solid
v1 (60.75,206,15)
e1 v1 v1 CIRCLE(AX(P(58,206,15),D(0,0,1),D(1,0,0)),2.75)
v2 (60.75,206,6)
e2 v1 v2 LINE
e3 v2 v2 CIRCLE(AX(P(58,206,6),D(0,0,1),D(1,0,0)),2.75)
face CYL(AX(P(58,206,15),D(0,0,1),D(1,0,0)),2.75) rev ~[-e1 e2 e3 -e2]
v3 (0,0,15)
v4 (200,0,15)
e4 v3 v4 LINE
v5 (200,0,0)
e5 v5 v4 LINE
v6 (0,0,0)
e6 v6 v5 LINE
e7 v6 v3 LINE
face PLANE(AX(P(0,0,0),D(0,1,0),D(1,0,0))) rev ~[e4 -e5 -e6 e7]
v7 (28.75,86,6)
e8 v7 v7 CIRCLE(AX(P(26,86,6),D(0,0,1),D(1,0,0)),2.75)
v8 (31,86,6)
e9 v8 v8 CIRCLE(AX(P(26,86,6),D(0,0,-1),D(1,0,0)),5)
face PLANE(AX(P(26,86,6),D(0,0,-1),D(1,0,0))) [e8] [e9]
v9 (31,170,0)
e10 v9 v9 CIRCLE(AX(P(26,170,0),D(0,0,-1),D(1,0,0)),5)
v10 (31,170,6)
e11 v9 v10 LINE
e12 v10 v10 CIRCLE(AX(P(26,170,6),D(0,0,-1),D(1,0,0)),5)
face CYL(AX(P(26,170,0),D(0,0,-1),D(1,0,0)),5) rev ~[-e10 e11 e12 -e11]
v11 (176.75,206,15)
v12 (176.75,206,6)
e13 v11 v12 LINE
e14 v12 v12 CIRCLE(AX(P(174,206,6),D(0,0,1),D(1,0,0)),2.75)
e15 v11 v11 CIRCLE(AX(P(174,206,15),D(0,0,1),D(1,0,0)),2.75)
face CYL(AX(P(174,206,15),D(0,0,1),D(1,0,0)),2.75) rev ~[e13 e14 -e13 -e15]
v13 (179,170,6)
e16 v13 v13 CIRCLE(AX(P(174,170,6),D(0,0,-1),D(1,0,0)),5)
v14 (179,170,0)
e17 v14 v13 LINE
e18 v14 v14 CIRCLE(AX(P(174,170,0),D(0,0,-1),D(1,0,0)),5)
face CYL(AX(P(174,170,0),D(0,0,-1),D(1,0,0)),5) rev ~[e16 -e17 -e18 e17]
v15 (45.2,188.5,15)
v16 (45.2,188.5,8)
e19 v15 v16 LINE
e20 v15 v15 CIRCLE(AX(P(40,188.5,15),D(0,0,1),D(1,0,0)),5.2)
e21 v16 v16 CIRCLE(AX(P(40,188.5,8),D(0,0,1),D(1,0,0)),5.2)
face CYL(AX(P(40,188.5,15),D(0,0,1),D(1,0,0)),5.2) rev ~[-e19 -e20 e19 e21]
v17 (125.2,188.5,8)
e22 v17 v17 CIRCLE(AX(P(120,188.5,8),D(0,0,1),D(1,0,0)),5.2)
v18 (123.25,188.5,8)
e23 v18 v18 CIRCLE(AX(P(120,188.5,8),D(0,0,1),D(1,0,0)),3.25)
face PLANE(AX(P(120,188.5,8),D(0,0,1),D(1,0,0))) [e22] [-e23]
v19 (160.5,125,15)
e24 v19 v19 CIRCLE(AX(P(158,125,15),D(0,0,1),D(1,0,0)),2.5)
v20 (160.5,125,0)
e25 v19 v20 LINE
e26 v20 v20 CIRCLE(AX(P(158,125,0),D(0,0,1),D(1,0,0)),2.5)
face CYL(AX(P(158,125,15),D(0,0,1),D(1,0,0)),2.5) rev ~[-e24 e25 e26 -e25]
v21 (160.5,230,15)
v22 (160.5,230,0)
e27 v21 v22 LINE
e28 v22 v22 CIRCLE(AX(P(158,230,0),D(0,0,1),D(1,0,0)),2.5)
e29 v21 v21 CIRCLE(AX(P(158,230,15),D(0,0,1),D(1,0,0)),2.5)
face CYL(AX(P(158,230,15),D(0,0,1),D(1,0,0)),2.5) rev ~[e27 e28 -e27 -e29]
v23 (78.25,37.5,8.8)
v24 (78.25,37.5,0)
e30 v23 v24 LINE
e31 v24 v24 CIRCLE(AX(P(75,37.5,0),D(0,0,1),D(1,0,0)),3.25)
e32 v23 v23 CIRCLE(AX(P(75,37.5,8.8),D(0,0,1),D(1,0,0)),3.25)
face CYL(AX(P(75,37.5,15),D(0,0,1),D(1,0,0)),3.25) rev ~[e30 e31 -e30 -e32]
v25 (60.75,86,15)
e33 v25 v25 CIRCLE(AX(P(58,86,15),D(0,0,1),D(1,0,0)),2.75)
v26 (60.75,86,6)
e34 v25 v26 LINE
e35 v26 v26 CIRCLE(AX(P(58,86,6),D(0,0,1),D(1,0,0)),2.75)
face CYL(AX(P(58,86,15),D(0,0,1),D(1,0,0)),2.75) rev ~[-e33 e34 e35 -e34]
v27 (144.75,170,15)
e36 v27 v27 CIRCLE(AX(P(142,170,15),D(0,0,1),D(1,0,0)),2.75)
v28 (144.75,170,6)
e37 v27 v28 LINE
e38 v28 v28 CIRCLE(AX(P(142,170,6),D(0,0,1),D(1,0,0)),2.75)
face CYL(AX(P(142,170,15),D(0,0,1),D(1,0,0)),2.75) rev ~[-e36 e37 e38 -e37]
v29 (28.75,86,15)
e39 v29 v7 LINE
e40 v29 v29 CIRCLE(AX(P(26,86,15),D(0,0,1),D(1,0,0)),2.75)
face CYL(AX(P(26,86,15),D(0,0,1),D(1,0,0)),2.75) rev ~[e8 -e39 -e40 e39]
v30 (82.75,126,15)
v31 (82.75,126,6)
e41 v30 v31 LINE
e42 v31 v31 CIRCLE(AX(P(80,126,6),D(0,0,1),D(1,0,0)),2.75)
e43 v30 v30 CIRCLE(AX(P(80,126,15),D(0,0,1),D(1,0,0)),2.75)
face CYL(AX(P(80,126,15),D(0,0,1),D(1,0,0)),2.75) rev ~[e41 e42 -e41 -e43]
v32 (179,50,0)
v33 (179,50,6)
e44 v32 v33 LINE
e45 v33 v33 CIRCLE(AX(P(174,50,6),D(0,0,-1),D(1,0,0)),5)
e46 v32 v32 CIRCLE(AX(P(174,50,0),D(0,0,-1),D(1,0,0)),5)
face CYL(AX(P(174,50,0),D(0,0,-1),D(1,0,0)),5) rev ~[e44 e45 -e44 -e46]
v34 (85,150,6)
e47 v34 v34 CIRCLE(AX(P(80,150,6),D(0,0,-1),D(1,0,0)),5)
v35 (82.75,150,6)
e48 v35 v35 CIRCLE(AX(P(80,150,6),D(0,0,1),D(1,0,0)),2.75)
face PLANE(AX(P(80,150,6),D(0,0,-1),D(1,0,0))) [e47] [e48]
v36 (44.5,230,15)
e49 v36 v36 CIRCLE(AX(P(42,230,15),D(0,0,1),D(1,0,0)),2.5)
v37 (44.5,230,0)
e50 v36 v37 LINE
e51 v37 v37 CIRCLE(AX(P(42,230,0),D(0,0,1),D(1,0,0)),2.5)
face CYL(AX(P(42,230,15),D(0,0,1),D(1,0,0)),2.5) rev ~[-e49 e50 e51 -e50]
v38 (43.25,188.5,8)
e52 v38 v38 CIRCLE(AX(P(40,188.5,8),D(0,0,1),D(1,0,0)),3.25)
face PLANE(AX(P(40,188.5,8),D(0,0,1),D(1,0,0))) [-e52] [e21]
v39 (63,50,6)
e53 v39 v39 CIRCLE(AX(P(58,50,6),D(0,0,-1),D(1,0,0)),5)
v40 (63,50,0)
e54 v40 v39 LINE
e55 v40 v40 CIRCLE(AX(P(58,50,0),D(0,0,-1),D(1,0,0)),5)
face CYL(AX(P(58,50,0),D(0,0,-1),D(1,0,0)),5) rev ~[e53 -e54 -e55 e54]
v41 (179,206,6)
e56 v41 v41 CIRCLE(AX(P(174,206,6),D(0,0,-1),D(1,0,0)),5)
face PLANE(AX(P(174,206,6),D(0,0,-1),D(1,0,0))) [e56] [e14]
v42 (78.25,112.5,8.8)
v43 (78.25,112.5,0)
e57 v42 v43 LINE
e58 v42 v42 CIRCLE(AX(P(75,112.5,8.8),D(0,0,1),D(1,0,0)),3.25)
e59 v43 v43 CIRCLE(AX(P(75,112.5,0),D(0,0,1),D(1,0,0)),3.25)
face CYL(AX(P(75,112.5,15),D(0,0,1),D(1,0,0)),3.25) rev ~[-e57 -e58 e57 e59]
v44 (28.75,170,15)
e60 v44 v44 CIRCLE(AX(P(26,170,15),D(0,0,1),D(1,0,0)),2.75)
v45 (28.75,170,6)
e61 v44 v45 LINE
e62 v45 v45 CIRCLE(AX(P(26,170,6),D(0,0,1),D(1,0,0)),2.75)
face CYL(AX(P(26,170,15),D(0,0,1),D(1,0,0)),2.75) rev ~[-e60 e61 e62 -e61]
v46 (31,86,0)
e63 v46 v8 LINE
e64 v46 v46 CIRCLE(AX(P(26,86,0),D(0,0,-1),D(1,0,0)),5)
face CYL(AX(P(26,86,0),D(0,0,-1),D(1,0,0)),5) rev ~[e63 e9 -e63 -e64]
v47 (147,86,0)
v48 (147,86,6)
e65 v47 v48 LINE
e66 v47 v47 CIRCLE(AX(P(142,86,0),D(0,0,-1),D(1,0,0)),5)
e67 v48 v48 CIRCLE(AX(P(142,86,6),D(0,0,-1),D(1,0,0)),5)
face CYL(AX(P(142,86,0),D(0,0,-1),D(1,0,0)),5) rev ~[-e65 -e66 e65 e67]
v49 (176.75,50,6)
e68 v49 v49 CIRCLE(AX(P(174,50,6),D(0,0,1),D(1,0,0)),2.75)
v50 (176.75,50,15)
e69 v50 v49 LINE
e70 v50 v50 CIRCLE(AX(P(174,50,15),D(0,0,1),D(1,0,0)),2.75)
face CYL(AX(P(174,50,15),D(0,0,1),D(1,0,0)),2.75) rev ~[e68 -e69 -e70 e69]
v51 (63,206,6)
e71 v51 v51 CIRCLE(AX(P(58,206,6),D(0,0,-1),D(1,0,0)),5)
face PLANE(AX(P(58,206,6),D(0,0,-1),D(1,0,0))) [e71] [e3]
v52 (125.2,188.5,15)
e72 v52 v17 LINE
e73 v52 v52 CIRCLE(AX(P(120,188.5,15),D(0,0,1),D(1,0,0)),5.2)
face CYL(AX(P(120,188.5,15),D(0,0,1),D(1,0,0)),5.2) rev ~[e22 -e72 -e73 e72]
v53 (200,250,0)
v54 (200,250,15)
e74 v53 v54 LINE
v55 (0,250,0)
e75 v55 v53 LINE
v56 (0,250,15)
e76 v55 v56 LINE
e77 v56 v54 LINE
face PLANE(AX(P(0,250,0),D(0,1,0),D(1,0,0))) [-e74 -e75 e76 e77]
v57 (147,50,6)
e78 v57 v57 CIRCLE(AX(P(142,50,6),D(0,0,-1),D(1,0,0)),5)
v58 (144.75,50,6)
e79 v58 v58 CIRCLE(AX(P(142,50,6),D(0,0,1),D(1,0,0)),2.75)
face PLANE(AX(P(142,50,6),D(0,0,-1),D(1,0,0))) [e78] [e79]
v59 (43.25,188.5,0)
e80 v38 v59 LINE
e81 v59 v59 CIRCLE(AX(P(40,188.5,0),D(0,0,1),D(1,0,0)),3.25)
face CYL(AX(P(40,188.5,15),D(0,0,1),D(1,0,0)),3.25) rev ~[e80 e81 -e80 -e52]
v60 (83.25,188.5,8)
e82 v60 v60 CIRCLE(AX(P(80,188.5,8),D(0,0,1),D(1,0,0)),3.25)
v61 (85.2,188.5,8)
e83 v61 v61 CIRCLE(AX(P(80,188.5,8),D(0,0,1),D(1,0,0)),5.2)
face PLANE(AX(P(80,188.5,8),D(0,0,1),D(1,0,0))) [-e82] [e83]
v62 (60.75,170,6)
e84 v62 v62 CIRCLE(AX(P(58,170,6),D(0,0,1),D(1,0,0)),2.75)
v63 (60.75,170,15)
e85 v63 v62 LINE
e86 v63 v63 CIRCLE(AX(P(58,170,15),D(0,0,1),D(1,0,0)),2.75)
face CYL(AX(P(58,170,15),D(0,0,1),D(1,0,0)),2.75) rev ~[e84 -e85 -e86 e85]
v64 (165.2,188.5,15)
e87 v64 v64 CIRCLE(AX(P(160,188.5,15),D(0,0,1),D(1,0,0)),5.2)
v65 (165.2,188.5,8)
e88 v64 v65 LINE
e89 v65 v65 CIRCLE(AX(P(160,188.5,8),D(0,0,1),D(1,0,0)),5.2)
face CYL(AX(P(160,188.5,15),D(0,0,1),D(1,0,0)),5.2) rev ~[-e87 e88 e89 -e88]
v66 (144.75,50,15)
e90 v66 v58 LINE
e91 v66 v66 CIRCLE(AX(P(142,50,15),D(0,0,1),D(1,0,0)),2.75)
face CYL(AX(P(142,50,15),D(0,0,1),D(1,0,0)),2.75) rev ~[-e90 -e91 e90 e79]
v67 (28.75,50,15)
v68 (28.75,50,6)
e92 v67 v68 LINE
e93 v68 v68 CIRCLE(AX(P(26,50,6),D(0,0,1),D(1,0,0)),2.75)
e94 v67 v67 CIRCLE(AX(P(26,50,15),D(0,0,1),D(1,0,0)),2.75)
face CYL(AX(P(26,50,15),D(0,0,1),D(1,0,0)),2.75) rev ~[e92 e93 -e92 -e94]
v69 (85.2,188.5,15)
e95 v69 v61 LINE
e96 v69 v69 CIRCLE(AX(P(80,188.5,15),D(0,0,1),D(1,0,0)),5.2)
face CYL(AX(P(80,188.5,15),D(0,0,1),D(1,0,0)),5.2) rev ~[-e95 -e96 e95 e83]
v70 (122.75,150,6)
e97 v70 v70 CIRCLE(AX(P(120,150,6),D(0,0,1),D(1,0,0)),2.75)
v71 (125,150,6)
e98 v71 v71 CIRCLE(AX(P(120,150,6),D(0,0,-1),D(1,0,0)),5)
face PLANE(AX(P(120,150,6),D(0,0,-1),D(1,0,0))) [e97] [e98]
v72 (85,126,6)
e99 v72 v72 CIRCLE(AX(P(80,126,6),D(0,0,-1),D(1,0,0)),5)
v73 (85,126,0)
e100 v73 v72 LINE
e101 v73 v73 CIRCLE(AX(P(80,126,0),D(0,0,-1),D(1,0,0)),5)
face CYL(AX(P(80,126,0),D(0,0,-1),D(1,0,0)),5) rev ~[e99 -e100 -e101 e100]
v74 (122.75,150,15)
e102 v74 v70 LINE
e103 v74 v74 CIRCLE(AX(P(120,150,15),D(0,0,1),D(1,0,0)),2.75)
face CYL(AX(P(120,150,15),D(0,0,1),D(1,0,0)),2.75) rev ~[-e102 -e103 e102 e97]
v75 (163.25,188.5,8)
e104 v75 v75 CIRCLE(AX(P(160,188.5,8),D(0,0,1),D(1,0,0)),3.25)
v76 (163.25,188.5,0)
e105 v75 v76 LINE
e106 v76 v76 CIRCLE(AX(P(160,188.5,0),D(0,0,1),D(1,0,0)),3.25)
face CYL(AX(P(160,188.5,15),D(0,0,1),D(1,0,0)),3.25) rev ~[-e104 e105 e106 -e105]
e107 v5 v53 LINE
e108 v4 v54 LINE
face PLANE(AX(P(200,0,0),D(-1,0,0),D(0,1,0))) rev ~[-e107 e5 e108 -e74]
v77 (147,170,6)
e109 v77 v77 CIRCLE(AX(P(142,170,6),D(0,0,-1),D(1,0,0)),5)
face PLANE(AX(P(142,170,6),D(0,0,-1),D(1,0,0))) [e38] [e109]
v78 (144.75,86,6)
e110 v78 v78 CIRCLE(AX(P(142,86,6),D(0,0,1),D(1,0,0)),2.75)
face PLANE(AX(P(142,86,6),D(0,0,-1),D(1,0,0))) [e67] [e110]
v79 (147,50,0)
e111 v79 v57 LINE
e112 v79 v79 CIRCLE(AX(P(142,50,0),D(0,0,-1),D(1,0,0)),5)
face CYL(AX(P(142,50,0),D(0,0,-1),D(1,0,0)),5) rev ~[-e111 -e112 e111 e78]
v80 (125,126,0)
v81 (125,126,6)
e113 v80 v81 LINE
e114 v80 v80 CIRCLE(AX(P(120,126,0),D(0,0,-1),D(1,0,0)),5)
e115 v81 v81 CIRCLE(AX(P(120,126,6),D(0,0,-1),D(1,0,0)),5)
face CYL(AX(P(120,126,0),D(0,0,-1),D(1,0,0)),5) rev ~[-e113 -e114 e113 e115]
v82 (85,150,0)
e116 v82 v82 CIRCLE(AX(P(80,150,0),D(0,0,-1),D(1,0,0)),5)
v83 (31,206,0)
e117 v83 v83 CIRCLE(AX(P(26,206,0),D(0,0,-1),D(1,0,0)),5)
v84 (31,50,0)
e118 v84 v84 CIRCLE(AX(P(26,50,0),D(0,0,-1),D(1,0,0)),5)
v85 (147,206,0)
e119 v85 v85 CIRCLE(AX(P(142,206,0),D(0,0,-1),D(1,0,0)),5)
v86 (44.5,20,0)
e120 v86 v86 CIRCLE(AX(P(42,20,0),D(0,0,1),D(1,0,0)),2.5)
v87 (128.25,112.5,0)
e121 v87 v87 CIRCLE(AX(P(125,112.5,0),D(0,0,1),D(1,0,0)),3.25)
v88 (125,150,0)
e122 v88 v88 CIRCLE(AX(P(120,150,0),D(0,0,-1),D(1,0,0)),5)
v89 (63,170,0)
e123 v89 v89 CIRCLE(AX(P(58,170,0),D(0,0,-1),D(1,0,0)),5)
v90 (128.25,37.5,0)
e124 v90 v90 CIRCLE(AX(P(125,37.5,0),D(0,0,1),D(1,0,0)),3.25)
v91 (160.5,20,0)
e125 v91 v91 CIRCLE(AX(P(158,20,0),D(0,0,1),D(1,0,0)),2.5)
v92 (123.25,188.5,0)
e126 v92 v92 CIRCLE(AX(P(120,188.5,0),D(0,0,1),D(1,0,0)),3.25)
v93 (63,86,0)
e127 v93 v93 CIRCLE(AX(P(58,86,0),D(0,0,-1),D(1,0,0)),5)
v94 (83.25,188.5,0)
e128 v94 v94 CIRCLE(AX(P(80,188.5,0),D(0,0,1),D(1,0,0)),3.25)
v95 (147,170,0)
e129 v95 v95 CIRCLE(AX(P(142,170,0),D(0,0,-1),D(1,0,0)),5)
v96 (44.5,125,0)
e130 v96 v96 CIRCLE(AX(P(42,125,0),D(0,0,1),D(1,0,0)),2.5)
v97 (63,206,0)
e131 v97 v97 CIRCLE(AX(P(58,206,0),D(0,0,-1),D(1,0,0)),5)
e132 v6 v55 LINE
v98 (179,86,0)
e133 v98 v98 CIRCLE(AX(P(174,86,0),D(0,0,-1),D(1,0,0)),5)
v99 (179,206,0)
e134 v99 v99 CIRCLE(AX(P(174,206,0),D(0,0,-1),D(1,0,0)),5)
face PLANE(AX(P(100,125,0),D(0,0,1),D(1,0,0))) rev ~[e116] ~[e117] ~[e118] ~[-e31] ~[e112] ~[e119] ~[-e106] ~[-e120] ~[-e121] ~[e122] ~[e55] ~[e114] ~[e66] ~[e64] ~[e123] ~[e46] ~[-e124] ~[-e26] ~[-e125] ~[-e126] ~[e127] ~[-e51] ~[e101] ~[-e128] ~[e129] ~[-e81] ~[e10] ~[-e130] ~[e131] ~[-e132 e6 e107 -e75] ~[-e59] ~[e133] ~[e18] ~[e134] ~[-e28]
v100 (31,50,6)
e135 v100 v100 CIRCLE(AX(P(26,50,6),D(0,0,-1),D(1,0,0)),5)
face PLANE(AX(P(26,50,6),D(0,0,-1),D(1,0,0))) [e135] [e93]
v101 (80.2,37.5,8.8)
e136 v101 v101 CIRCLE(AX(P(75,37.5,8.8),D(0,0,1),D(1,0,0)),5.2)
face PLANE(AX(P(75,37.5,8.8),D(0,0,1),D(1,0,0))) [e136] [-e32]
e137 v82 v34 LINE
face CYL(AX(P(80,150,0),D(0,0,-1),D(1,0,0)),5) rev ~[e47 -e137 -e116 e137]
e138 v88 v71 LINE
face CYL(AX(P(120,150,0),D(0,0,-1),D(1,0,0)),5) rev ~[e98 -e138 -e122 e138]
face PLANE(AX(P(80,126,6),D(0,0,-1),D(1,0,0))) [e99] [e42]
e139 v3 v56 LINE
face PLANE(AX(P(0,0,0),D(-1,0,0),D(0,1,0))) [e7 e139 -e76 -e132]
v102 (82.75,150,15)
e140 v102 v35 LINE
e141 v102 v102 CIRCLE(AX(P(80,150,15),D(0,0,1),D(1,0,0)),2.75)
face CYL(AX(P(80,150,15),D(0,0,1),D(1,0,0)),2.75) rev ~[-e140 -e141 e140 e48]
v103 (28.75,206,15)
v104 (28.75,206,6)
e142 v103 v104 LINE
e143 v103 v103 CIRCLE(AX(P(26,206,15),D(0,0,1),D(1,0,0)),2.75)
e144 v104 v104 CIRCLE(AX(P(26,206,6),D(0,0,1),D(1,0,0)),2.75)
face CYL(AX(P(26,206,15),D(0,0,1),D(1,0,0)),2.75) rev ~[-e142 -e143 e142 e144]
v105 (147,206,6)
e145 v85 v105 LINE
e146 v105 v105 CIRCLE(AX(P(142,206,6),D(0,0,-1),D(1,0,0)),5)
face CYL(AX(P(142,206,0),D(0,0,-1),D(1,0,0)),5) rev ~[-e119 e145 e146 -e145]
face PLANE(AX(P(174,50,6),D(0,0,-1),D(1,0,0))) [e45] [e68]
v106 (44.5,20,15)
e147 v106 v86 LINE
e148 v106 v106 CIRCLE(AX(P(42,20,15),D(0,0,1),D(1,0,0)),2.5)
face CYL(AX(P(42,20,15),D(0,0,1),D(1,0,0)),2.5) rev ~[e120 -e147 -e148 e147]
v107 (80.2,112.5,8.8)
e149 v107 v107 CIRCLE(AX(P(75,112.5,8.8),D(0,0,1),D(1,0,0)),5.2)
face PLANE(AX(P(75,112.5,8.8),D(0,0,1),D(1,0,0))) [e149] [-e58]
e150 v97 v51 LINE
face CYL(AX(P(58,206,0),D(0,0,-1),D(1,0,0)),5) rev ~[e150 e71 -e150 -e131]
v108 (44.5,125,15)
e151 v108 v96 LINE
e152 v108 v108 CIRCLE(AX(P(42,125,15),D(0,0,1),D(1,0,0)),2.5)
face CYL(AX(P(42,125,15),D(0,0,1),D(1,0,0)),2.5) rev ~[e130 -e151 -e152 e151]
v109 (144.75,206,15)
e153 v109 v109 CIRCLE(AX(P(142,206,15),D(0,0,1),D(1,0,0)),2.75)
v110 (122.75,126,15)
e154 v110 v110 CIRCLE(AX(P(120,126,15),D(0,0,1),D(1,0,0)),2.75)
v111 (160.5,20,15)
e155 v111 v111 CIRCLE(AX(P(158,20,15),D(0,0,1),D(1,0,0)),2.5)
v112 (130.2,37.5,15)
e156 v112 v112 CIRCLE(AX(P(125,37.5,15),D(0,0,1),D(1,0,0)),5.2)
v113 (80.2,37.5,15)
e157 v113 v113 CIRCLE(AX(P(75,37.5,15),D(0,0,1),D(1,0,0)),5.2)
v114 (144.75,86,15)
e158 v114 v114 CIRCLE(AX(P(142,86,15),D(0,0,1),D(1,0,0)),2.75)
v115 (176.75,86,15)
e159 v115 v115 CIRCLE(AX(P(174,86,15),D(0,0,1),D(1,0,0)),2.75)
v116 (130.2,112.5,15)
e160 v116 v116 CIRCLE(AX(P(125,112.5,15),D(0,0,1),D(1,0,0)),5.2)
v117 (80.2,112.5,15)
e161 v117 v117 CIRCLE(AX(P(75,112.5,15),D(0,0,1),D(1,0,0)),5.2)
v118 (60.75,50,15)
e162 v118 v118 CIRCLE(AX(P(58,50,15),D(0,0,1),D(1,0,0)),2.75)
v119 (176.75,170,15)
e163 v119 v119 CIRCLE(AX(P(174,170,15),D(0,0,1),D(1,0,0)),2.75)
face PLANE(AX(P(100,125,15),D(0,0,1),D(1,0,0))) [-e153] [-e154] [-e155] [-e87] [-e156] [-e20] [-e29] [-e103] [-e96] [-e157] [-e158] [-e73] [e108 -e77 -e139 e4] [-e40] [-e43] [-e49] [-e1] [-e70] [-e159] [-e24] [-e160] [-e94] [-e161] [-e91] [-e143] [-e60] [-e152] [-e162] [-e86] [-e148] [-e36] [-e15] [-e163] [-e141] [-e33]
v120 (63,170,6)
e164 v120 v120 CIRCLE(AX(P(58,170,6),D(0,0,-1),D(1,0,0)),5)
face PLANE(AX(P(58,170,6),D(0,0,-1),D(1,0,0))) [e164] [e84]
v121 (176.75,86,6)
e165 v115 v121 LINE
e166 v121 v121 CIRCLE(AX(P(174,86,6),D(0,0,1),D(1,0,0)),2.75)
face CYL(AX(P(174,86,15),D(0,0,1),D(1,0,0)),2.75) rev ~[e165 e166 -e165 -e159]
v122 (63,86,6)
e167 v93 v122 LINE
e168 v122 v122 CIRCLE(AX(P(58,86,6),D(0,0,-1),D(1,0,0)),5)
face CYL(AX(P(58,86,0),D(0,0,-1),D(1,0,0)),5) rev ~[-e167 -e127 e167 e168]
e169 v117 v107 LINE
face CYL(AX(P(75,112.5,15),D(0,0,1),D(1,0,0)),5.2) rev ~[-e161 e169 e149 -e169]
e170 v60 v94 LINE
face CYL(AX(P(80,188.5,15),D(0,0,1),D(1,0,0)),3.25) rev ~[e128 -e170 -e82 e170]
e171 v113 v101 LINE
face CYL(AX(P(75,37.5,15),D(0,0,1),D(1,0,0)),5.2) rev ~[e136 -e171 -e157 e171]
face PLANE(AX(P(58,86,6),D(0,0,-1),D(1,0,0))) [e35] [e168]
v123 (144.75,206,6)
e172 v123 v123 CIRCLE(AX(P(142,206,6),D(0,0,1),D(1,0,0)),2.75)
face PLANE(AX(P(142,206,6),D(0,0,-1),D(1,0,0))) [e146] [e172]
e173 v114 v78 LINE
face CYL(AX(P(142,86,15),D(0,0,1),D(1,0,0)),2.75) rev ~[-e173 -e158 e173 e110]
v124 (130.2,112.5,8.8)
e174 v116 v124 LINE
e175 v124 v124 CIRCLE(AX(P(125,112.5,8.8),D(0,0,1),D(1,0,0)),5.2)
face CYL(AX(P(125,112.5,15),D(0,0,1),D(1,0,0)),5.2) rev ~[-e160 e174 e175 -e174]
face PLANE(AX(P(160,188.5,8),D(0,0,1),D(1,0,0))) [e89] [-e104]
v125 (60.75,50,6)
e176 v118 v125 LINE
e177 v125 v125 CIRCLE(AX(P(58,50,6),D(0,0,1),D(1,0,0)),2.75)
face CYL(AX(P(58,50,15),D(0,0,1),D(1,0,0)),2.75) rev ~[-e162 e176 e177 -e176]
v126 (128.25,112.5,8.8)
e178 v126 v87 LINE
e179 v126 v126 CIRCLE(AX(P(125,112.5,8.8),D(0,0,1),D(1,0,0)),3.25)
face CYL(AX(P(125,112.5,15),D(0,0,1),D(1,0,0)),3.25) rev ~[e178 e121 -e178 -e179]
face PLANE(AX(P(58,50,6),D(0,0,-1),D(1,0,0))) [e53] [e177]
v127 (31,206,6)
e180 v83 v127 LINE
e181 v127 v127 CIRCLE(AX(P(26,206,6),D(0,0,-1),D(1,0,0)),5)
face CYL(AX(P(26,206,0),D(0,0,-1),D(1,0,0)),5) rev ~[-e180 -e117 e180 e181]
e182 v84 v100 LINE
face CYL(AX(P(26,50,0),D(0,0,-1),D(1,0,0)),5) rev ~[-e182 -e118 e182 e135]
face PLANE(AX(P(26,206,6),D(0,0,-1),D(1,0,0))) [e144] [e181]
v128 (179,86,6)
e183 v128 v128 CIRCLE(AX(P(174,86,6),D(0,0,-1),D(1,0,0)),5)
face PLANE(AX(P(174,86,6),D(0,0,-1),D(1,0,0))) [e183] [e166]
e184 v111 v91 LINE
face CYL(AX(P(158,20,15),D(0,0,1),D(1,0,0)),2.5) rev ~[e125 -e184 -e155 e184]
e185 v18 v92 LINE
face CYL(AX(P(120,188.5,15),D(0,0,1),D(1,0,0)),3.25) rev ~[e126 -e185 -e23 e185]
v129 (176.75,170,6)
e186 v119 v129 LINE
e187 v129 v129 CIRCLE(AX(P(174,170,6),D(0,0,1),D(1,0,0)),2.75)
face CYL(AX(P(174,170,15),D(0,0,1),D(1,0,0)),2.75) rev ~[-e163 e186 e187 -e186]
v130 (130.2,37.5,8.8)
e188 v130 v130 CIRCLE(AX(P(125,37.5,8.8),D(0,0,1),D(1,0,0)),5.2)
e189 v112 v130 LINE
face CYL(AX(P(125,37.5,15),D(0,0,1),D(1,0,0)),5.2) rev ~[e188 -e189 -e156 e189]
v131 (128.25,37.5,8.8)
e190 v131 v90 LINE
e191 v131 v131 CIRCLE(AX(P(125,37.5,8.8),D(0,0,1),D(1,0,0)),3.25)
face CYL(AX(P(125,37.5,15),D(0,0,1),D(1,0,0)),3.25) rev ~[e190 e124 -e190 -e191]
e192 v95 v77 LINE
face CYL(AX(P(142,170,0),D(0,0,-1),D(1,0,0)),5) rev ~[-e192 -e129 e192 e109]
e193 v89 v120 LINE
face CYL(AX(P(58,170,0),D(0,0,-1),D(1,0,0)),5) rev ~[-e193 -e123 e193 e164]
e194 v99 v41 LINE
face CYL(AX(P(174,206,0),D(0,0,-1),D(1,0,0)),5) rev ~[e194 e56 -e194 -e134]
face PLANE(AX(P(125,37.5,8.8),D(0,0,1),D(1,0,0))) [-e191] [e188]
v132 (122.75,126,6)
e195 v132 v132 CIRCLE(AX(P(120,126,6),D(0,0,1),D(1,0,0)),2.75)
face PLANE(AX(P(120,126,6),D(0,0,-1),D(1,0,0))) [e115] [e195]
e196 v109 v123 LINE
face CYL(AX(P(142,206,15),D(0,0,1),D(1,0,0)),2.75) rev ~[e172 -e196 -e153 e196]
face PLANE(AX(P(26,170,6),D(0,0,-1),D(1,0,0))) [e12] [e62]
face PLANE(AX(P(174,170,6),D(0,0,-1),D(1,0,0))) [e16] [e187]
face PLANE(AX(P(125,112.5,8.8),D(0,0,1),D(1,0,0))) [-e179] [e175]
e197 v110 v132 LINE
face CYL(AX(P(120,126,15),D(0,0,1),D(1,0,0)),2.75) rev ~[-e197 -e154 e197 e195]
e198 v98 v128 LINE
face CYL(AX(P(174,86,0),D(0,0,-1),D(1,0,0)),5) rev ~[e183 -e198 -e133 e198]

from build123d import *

# Parameters (mm, degrees)
SKETCH_W        = 200
SKETCH_H        = 250
PAD_DEPTH       = 15
SKETCH001_R     = 3.25
POCKET_DEPTH    = 15
SKETCH002_R     = 5.2
POCKET001_DEPTH = 6.2
SKETCH003_R     = 2.5
POCKET002_DEPTH = 15
SKETCH004_R     = 3.25
POCKET003_DEPTH = 15
SKETCH005_R     = 5.2
POCKET004_DEPTH = 7
SKETCH006_R     = 2.75
POCKET005_DEPTH = 15
SKETCH007_R     = 5
POCKET006_DEPTH = 6
SKETCH008_R     = 2.75
POCKET007_DEPTH = 15
SKETCH009_R     = 5
POCKET008_DEPTH = 6


with BuildPart() as part:
    # Sketch → Pad (new body)
    with BuildSketch(Plane.XY):
        with Locations((100, 125)):
            Rectangle(SKETCH_W, SKETCH_H)
    extrude(amount=PAD_DEPTH)

    # Sketch001 (on Face6 of Pad) → Pocket (cut)
    with BuildSketch(Plane.XY.offset(15)):
        with Locations((125, 37.5)):
            Circle(SKETCH001_R)
        with Locations((75, 37.5)):
            Circle(SKETCH001_R)
        with Locations((125, 112.5)):
            Circle(SKETCH001_R)
        with Locations((75, 112.5)):
            Circle(SKETCH001_R)
    extrude(amount=-POCKET_DEPTH, mode=Mode.SUBTRACT)

    # Sketch002 (on Face5 of Pocket) → Pocket001 (cut)
    with BuildSketch(Plane.XY.offset(15)):
        with Locations((75, 112.5)):
            Circle(SKETCH002_R)
        with Locations((125, 112.5)):
            Circle(SKETCH002_R)
        with Locations((75, 37.5)):
            Circle(SKETCH002_R)
        with Locations((125, 37.5)):
            Circle(SKETCH002_R)
    extrude(amount=-POCKET001_DEPTH, mode=Mode.SUBTRACT)

    # Sketch003 (on Face5 of Pocket001) → Pocket002 (cut)
    with BuildSketch(Plane.XY.offset(15)):
        with Locations((42, 230)):
            Circle(SKETCH003_R)
        with Locations((42, 125)):
            Circle(SKETCH003_R)
        with Locations((42, 20)):
            Circle(SKETCH003_R)
        with Locations((158, 230)):
            Circle(SKETCH003_R)
        with Locations((158, 125)):
            Circle(SKETCH003_R)
        with Locations((158, 20)):
            Circle(SKETCH003_R)
    extrude(amount=-POCKET002_DEPTH, mode=Mode.SUBTRACT)

    # Sketch004 (on Face5 of Pocket002) → Pocket003 (cut)
    with BuildSketch(Plane.XY.offset(15)):
        with Locations((40, 188.5)):
            Circle(SKETCH004_R)
        with Locations((80, 188.5)):
            Circle(SKETCH004_R)
        with Locations((120, 188.5)):
            Circle(SKETCH004_R)
        with Locations((160, 188.5)):
            Circle(SKETCH004_R)
    extrude(amount=-POCKET003_DEPTH, mode=Mode.SUBTRACT)

    # Sketch005 (on Face5 of Pocket003) → Pocket004 (cut)
    with BuildSketch(Plane.XY.offset(15)):
        with Locations((40, 188.5)):
            Circle(SKETCH005_R)
        with Locations((80, 188.5)):
            Circle(SKETCH005_R)
        with Locations((120, 188.5)):
            Circle(SKETCH005_R)
        with Locations((160, 188.5)):
            Circle(SKETCH005_R)
    extrude(amount=-POCKET004_DEPTH, mode=Mode.SUBTRACT)

    # Sketch006 (on Face5 of Pocket004) → Pocket005 (cut)
    with BuildSketch(Plane.XY.offset(15)):
        with Locations((26, 206)):
            Circle(SKETCH006_R)
        with Locations((58, 206)):
            Circle(SKETCH006_R)
        with Locations((26, 170)):
            Circle(SKETCH006_R)
        with Locations((58, 170)):
            Circle(SKETCH006_R)
        with Locations((26, 86)):
            Circle(SKETCH006_R)
        with Locations((58, 86)):
            Circle(SKETCH006_R)
        with Locations((26, 50)):
            Circle(SKETCH006_R)
        with Locations((58, 50)):
            Circle(SKETCH006_R)
        with Locations((142, 206)):
            Circle(SKETCH006_R)
        with Locations((174, 206)):
            Circle(SKETCH006_R)
        with Locations((142, 170)):
            Circle(SKETCH006_R)
        with Locations((174, 170)):
            Circle(SKETCH006_R)
        with Locations((142, 86)):
            Circle(SKETCH006_R)
        with Locations((174, 86)):
            Circle(SKETCH006_R)
        with Locations((142, 50)):
            Circle(SKETCH006_R)
        with Locations((174, 50)):
            Circle(SKETCH006_R)
    extrude(amount=-POCKET005_DEPTH, mode=Mode.SUBTRACT)

    # Sketch007 (on Face4 of Pocket005) → Pocket006 (cut)
    with BuildSketch(Plane(origin=(0, 0, 0), x_dir=(1, 0, 0), z_dir=(0, 0, -1))):
        with Locations((26, -50)):
            Circle(SKETCH007_R)
        with Locations((58, -50)):
            Circle(SKETCH007_R)
        with Locations((142, -50)):
            Circle(SKETCH007_R)
        with Locations((174, -50)):
            Circle(SKETCH007_R)
        with Locations((142, -86)):
            Circle(SKETCH007_R)
        with Locations((174, -86)):
            Circle(SKETCH007_R)
        with Locations((26, -86)):
            Circle(SKETCH007_R)
        with Locations((58, -86)):
            Circle(SKETCH007_R)
        with Locations((26, -170)):
            Circle(SKETCH007_R)
        with Locations((58, -170)):
            Circle(SKETCH007_R)
        with Locations((26, -206)):
            Circle(SKETCH007_R)
        with Locations((58, -206)):
            Circle(SKETCH007_R)
        with Locations((142, -170)):
            Circle(SKETCH007_R)
        with Locations((174, -170)):
            Circle(SKETCH007_R)
        with Locations((142, -206)):
            Circle(SKETCH007_R)
        with Locations((174, -206)):
            Circle(SKETCH007_R)
    extrude(amount=-POCKET006_DEPTH, mode=Mode.SUBTRACT)

    # Sketch008 (on Face5 of Pocket006) → Pocket007 (cut)
    with BuildSketch(Plane.XY.offset(15)):
        with Locations((80, 150)):
            Circle(SKETCH008_R)
        with Locations((120, 150)):
            Circle(SKETCH008_R)
        with Locations((80, 126)):
            Circle(SKETCH008_R)
        with Locations((120, 126)):
            Circle(SKETCH008_R)
    extrude(amount=-POCKET007_DEPTH, mode=Mode.SUBTRACT)

    # Sketch009 (on Face4 of Pocket007) → Pocket008 (cut)
    with BuildSketch(Plane(origin=(0, 0, 0), x_dir=(1, 0, 0), z_dir=(0, 0, -1))):
        with Locations((80, -126)):
            Circle(SKETCH009_R)
        with Locations((120, -126)):
            Circle(SKETCH009_R)
        with Locations((80, -150)):
            Circle(SKETCH009_R)
        with Locations((120, -150)):
            Circle(SKETCH009_R)
    extrude(amount=-POCKET008_DEPTH, mode=Mode.SUBTRACT)


solid = part.part
